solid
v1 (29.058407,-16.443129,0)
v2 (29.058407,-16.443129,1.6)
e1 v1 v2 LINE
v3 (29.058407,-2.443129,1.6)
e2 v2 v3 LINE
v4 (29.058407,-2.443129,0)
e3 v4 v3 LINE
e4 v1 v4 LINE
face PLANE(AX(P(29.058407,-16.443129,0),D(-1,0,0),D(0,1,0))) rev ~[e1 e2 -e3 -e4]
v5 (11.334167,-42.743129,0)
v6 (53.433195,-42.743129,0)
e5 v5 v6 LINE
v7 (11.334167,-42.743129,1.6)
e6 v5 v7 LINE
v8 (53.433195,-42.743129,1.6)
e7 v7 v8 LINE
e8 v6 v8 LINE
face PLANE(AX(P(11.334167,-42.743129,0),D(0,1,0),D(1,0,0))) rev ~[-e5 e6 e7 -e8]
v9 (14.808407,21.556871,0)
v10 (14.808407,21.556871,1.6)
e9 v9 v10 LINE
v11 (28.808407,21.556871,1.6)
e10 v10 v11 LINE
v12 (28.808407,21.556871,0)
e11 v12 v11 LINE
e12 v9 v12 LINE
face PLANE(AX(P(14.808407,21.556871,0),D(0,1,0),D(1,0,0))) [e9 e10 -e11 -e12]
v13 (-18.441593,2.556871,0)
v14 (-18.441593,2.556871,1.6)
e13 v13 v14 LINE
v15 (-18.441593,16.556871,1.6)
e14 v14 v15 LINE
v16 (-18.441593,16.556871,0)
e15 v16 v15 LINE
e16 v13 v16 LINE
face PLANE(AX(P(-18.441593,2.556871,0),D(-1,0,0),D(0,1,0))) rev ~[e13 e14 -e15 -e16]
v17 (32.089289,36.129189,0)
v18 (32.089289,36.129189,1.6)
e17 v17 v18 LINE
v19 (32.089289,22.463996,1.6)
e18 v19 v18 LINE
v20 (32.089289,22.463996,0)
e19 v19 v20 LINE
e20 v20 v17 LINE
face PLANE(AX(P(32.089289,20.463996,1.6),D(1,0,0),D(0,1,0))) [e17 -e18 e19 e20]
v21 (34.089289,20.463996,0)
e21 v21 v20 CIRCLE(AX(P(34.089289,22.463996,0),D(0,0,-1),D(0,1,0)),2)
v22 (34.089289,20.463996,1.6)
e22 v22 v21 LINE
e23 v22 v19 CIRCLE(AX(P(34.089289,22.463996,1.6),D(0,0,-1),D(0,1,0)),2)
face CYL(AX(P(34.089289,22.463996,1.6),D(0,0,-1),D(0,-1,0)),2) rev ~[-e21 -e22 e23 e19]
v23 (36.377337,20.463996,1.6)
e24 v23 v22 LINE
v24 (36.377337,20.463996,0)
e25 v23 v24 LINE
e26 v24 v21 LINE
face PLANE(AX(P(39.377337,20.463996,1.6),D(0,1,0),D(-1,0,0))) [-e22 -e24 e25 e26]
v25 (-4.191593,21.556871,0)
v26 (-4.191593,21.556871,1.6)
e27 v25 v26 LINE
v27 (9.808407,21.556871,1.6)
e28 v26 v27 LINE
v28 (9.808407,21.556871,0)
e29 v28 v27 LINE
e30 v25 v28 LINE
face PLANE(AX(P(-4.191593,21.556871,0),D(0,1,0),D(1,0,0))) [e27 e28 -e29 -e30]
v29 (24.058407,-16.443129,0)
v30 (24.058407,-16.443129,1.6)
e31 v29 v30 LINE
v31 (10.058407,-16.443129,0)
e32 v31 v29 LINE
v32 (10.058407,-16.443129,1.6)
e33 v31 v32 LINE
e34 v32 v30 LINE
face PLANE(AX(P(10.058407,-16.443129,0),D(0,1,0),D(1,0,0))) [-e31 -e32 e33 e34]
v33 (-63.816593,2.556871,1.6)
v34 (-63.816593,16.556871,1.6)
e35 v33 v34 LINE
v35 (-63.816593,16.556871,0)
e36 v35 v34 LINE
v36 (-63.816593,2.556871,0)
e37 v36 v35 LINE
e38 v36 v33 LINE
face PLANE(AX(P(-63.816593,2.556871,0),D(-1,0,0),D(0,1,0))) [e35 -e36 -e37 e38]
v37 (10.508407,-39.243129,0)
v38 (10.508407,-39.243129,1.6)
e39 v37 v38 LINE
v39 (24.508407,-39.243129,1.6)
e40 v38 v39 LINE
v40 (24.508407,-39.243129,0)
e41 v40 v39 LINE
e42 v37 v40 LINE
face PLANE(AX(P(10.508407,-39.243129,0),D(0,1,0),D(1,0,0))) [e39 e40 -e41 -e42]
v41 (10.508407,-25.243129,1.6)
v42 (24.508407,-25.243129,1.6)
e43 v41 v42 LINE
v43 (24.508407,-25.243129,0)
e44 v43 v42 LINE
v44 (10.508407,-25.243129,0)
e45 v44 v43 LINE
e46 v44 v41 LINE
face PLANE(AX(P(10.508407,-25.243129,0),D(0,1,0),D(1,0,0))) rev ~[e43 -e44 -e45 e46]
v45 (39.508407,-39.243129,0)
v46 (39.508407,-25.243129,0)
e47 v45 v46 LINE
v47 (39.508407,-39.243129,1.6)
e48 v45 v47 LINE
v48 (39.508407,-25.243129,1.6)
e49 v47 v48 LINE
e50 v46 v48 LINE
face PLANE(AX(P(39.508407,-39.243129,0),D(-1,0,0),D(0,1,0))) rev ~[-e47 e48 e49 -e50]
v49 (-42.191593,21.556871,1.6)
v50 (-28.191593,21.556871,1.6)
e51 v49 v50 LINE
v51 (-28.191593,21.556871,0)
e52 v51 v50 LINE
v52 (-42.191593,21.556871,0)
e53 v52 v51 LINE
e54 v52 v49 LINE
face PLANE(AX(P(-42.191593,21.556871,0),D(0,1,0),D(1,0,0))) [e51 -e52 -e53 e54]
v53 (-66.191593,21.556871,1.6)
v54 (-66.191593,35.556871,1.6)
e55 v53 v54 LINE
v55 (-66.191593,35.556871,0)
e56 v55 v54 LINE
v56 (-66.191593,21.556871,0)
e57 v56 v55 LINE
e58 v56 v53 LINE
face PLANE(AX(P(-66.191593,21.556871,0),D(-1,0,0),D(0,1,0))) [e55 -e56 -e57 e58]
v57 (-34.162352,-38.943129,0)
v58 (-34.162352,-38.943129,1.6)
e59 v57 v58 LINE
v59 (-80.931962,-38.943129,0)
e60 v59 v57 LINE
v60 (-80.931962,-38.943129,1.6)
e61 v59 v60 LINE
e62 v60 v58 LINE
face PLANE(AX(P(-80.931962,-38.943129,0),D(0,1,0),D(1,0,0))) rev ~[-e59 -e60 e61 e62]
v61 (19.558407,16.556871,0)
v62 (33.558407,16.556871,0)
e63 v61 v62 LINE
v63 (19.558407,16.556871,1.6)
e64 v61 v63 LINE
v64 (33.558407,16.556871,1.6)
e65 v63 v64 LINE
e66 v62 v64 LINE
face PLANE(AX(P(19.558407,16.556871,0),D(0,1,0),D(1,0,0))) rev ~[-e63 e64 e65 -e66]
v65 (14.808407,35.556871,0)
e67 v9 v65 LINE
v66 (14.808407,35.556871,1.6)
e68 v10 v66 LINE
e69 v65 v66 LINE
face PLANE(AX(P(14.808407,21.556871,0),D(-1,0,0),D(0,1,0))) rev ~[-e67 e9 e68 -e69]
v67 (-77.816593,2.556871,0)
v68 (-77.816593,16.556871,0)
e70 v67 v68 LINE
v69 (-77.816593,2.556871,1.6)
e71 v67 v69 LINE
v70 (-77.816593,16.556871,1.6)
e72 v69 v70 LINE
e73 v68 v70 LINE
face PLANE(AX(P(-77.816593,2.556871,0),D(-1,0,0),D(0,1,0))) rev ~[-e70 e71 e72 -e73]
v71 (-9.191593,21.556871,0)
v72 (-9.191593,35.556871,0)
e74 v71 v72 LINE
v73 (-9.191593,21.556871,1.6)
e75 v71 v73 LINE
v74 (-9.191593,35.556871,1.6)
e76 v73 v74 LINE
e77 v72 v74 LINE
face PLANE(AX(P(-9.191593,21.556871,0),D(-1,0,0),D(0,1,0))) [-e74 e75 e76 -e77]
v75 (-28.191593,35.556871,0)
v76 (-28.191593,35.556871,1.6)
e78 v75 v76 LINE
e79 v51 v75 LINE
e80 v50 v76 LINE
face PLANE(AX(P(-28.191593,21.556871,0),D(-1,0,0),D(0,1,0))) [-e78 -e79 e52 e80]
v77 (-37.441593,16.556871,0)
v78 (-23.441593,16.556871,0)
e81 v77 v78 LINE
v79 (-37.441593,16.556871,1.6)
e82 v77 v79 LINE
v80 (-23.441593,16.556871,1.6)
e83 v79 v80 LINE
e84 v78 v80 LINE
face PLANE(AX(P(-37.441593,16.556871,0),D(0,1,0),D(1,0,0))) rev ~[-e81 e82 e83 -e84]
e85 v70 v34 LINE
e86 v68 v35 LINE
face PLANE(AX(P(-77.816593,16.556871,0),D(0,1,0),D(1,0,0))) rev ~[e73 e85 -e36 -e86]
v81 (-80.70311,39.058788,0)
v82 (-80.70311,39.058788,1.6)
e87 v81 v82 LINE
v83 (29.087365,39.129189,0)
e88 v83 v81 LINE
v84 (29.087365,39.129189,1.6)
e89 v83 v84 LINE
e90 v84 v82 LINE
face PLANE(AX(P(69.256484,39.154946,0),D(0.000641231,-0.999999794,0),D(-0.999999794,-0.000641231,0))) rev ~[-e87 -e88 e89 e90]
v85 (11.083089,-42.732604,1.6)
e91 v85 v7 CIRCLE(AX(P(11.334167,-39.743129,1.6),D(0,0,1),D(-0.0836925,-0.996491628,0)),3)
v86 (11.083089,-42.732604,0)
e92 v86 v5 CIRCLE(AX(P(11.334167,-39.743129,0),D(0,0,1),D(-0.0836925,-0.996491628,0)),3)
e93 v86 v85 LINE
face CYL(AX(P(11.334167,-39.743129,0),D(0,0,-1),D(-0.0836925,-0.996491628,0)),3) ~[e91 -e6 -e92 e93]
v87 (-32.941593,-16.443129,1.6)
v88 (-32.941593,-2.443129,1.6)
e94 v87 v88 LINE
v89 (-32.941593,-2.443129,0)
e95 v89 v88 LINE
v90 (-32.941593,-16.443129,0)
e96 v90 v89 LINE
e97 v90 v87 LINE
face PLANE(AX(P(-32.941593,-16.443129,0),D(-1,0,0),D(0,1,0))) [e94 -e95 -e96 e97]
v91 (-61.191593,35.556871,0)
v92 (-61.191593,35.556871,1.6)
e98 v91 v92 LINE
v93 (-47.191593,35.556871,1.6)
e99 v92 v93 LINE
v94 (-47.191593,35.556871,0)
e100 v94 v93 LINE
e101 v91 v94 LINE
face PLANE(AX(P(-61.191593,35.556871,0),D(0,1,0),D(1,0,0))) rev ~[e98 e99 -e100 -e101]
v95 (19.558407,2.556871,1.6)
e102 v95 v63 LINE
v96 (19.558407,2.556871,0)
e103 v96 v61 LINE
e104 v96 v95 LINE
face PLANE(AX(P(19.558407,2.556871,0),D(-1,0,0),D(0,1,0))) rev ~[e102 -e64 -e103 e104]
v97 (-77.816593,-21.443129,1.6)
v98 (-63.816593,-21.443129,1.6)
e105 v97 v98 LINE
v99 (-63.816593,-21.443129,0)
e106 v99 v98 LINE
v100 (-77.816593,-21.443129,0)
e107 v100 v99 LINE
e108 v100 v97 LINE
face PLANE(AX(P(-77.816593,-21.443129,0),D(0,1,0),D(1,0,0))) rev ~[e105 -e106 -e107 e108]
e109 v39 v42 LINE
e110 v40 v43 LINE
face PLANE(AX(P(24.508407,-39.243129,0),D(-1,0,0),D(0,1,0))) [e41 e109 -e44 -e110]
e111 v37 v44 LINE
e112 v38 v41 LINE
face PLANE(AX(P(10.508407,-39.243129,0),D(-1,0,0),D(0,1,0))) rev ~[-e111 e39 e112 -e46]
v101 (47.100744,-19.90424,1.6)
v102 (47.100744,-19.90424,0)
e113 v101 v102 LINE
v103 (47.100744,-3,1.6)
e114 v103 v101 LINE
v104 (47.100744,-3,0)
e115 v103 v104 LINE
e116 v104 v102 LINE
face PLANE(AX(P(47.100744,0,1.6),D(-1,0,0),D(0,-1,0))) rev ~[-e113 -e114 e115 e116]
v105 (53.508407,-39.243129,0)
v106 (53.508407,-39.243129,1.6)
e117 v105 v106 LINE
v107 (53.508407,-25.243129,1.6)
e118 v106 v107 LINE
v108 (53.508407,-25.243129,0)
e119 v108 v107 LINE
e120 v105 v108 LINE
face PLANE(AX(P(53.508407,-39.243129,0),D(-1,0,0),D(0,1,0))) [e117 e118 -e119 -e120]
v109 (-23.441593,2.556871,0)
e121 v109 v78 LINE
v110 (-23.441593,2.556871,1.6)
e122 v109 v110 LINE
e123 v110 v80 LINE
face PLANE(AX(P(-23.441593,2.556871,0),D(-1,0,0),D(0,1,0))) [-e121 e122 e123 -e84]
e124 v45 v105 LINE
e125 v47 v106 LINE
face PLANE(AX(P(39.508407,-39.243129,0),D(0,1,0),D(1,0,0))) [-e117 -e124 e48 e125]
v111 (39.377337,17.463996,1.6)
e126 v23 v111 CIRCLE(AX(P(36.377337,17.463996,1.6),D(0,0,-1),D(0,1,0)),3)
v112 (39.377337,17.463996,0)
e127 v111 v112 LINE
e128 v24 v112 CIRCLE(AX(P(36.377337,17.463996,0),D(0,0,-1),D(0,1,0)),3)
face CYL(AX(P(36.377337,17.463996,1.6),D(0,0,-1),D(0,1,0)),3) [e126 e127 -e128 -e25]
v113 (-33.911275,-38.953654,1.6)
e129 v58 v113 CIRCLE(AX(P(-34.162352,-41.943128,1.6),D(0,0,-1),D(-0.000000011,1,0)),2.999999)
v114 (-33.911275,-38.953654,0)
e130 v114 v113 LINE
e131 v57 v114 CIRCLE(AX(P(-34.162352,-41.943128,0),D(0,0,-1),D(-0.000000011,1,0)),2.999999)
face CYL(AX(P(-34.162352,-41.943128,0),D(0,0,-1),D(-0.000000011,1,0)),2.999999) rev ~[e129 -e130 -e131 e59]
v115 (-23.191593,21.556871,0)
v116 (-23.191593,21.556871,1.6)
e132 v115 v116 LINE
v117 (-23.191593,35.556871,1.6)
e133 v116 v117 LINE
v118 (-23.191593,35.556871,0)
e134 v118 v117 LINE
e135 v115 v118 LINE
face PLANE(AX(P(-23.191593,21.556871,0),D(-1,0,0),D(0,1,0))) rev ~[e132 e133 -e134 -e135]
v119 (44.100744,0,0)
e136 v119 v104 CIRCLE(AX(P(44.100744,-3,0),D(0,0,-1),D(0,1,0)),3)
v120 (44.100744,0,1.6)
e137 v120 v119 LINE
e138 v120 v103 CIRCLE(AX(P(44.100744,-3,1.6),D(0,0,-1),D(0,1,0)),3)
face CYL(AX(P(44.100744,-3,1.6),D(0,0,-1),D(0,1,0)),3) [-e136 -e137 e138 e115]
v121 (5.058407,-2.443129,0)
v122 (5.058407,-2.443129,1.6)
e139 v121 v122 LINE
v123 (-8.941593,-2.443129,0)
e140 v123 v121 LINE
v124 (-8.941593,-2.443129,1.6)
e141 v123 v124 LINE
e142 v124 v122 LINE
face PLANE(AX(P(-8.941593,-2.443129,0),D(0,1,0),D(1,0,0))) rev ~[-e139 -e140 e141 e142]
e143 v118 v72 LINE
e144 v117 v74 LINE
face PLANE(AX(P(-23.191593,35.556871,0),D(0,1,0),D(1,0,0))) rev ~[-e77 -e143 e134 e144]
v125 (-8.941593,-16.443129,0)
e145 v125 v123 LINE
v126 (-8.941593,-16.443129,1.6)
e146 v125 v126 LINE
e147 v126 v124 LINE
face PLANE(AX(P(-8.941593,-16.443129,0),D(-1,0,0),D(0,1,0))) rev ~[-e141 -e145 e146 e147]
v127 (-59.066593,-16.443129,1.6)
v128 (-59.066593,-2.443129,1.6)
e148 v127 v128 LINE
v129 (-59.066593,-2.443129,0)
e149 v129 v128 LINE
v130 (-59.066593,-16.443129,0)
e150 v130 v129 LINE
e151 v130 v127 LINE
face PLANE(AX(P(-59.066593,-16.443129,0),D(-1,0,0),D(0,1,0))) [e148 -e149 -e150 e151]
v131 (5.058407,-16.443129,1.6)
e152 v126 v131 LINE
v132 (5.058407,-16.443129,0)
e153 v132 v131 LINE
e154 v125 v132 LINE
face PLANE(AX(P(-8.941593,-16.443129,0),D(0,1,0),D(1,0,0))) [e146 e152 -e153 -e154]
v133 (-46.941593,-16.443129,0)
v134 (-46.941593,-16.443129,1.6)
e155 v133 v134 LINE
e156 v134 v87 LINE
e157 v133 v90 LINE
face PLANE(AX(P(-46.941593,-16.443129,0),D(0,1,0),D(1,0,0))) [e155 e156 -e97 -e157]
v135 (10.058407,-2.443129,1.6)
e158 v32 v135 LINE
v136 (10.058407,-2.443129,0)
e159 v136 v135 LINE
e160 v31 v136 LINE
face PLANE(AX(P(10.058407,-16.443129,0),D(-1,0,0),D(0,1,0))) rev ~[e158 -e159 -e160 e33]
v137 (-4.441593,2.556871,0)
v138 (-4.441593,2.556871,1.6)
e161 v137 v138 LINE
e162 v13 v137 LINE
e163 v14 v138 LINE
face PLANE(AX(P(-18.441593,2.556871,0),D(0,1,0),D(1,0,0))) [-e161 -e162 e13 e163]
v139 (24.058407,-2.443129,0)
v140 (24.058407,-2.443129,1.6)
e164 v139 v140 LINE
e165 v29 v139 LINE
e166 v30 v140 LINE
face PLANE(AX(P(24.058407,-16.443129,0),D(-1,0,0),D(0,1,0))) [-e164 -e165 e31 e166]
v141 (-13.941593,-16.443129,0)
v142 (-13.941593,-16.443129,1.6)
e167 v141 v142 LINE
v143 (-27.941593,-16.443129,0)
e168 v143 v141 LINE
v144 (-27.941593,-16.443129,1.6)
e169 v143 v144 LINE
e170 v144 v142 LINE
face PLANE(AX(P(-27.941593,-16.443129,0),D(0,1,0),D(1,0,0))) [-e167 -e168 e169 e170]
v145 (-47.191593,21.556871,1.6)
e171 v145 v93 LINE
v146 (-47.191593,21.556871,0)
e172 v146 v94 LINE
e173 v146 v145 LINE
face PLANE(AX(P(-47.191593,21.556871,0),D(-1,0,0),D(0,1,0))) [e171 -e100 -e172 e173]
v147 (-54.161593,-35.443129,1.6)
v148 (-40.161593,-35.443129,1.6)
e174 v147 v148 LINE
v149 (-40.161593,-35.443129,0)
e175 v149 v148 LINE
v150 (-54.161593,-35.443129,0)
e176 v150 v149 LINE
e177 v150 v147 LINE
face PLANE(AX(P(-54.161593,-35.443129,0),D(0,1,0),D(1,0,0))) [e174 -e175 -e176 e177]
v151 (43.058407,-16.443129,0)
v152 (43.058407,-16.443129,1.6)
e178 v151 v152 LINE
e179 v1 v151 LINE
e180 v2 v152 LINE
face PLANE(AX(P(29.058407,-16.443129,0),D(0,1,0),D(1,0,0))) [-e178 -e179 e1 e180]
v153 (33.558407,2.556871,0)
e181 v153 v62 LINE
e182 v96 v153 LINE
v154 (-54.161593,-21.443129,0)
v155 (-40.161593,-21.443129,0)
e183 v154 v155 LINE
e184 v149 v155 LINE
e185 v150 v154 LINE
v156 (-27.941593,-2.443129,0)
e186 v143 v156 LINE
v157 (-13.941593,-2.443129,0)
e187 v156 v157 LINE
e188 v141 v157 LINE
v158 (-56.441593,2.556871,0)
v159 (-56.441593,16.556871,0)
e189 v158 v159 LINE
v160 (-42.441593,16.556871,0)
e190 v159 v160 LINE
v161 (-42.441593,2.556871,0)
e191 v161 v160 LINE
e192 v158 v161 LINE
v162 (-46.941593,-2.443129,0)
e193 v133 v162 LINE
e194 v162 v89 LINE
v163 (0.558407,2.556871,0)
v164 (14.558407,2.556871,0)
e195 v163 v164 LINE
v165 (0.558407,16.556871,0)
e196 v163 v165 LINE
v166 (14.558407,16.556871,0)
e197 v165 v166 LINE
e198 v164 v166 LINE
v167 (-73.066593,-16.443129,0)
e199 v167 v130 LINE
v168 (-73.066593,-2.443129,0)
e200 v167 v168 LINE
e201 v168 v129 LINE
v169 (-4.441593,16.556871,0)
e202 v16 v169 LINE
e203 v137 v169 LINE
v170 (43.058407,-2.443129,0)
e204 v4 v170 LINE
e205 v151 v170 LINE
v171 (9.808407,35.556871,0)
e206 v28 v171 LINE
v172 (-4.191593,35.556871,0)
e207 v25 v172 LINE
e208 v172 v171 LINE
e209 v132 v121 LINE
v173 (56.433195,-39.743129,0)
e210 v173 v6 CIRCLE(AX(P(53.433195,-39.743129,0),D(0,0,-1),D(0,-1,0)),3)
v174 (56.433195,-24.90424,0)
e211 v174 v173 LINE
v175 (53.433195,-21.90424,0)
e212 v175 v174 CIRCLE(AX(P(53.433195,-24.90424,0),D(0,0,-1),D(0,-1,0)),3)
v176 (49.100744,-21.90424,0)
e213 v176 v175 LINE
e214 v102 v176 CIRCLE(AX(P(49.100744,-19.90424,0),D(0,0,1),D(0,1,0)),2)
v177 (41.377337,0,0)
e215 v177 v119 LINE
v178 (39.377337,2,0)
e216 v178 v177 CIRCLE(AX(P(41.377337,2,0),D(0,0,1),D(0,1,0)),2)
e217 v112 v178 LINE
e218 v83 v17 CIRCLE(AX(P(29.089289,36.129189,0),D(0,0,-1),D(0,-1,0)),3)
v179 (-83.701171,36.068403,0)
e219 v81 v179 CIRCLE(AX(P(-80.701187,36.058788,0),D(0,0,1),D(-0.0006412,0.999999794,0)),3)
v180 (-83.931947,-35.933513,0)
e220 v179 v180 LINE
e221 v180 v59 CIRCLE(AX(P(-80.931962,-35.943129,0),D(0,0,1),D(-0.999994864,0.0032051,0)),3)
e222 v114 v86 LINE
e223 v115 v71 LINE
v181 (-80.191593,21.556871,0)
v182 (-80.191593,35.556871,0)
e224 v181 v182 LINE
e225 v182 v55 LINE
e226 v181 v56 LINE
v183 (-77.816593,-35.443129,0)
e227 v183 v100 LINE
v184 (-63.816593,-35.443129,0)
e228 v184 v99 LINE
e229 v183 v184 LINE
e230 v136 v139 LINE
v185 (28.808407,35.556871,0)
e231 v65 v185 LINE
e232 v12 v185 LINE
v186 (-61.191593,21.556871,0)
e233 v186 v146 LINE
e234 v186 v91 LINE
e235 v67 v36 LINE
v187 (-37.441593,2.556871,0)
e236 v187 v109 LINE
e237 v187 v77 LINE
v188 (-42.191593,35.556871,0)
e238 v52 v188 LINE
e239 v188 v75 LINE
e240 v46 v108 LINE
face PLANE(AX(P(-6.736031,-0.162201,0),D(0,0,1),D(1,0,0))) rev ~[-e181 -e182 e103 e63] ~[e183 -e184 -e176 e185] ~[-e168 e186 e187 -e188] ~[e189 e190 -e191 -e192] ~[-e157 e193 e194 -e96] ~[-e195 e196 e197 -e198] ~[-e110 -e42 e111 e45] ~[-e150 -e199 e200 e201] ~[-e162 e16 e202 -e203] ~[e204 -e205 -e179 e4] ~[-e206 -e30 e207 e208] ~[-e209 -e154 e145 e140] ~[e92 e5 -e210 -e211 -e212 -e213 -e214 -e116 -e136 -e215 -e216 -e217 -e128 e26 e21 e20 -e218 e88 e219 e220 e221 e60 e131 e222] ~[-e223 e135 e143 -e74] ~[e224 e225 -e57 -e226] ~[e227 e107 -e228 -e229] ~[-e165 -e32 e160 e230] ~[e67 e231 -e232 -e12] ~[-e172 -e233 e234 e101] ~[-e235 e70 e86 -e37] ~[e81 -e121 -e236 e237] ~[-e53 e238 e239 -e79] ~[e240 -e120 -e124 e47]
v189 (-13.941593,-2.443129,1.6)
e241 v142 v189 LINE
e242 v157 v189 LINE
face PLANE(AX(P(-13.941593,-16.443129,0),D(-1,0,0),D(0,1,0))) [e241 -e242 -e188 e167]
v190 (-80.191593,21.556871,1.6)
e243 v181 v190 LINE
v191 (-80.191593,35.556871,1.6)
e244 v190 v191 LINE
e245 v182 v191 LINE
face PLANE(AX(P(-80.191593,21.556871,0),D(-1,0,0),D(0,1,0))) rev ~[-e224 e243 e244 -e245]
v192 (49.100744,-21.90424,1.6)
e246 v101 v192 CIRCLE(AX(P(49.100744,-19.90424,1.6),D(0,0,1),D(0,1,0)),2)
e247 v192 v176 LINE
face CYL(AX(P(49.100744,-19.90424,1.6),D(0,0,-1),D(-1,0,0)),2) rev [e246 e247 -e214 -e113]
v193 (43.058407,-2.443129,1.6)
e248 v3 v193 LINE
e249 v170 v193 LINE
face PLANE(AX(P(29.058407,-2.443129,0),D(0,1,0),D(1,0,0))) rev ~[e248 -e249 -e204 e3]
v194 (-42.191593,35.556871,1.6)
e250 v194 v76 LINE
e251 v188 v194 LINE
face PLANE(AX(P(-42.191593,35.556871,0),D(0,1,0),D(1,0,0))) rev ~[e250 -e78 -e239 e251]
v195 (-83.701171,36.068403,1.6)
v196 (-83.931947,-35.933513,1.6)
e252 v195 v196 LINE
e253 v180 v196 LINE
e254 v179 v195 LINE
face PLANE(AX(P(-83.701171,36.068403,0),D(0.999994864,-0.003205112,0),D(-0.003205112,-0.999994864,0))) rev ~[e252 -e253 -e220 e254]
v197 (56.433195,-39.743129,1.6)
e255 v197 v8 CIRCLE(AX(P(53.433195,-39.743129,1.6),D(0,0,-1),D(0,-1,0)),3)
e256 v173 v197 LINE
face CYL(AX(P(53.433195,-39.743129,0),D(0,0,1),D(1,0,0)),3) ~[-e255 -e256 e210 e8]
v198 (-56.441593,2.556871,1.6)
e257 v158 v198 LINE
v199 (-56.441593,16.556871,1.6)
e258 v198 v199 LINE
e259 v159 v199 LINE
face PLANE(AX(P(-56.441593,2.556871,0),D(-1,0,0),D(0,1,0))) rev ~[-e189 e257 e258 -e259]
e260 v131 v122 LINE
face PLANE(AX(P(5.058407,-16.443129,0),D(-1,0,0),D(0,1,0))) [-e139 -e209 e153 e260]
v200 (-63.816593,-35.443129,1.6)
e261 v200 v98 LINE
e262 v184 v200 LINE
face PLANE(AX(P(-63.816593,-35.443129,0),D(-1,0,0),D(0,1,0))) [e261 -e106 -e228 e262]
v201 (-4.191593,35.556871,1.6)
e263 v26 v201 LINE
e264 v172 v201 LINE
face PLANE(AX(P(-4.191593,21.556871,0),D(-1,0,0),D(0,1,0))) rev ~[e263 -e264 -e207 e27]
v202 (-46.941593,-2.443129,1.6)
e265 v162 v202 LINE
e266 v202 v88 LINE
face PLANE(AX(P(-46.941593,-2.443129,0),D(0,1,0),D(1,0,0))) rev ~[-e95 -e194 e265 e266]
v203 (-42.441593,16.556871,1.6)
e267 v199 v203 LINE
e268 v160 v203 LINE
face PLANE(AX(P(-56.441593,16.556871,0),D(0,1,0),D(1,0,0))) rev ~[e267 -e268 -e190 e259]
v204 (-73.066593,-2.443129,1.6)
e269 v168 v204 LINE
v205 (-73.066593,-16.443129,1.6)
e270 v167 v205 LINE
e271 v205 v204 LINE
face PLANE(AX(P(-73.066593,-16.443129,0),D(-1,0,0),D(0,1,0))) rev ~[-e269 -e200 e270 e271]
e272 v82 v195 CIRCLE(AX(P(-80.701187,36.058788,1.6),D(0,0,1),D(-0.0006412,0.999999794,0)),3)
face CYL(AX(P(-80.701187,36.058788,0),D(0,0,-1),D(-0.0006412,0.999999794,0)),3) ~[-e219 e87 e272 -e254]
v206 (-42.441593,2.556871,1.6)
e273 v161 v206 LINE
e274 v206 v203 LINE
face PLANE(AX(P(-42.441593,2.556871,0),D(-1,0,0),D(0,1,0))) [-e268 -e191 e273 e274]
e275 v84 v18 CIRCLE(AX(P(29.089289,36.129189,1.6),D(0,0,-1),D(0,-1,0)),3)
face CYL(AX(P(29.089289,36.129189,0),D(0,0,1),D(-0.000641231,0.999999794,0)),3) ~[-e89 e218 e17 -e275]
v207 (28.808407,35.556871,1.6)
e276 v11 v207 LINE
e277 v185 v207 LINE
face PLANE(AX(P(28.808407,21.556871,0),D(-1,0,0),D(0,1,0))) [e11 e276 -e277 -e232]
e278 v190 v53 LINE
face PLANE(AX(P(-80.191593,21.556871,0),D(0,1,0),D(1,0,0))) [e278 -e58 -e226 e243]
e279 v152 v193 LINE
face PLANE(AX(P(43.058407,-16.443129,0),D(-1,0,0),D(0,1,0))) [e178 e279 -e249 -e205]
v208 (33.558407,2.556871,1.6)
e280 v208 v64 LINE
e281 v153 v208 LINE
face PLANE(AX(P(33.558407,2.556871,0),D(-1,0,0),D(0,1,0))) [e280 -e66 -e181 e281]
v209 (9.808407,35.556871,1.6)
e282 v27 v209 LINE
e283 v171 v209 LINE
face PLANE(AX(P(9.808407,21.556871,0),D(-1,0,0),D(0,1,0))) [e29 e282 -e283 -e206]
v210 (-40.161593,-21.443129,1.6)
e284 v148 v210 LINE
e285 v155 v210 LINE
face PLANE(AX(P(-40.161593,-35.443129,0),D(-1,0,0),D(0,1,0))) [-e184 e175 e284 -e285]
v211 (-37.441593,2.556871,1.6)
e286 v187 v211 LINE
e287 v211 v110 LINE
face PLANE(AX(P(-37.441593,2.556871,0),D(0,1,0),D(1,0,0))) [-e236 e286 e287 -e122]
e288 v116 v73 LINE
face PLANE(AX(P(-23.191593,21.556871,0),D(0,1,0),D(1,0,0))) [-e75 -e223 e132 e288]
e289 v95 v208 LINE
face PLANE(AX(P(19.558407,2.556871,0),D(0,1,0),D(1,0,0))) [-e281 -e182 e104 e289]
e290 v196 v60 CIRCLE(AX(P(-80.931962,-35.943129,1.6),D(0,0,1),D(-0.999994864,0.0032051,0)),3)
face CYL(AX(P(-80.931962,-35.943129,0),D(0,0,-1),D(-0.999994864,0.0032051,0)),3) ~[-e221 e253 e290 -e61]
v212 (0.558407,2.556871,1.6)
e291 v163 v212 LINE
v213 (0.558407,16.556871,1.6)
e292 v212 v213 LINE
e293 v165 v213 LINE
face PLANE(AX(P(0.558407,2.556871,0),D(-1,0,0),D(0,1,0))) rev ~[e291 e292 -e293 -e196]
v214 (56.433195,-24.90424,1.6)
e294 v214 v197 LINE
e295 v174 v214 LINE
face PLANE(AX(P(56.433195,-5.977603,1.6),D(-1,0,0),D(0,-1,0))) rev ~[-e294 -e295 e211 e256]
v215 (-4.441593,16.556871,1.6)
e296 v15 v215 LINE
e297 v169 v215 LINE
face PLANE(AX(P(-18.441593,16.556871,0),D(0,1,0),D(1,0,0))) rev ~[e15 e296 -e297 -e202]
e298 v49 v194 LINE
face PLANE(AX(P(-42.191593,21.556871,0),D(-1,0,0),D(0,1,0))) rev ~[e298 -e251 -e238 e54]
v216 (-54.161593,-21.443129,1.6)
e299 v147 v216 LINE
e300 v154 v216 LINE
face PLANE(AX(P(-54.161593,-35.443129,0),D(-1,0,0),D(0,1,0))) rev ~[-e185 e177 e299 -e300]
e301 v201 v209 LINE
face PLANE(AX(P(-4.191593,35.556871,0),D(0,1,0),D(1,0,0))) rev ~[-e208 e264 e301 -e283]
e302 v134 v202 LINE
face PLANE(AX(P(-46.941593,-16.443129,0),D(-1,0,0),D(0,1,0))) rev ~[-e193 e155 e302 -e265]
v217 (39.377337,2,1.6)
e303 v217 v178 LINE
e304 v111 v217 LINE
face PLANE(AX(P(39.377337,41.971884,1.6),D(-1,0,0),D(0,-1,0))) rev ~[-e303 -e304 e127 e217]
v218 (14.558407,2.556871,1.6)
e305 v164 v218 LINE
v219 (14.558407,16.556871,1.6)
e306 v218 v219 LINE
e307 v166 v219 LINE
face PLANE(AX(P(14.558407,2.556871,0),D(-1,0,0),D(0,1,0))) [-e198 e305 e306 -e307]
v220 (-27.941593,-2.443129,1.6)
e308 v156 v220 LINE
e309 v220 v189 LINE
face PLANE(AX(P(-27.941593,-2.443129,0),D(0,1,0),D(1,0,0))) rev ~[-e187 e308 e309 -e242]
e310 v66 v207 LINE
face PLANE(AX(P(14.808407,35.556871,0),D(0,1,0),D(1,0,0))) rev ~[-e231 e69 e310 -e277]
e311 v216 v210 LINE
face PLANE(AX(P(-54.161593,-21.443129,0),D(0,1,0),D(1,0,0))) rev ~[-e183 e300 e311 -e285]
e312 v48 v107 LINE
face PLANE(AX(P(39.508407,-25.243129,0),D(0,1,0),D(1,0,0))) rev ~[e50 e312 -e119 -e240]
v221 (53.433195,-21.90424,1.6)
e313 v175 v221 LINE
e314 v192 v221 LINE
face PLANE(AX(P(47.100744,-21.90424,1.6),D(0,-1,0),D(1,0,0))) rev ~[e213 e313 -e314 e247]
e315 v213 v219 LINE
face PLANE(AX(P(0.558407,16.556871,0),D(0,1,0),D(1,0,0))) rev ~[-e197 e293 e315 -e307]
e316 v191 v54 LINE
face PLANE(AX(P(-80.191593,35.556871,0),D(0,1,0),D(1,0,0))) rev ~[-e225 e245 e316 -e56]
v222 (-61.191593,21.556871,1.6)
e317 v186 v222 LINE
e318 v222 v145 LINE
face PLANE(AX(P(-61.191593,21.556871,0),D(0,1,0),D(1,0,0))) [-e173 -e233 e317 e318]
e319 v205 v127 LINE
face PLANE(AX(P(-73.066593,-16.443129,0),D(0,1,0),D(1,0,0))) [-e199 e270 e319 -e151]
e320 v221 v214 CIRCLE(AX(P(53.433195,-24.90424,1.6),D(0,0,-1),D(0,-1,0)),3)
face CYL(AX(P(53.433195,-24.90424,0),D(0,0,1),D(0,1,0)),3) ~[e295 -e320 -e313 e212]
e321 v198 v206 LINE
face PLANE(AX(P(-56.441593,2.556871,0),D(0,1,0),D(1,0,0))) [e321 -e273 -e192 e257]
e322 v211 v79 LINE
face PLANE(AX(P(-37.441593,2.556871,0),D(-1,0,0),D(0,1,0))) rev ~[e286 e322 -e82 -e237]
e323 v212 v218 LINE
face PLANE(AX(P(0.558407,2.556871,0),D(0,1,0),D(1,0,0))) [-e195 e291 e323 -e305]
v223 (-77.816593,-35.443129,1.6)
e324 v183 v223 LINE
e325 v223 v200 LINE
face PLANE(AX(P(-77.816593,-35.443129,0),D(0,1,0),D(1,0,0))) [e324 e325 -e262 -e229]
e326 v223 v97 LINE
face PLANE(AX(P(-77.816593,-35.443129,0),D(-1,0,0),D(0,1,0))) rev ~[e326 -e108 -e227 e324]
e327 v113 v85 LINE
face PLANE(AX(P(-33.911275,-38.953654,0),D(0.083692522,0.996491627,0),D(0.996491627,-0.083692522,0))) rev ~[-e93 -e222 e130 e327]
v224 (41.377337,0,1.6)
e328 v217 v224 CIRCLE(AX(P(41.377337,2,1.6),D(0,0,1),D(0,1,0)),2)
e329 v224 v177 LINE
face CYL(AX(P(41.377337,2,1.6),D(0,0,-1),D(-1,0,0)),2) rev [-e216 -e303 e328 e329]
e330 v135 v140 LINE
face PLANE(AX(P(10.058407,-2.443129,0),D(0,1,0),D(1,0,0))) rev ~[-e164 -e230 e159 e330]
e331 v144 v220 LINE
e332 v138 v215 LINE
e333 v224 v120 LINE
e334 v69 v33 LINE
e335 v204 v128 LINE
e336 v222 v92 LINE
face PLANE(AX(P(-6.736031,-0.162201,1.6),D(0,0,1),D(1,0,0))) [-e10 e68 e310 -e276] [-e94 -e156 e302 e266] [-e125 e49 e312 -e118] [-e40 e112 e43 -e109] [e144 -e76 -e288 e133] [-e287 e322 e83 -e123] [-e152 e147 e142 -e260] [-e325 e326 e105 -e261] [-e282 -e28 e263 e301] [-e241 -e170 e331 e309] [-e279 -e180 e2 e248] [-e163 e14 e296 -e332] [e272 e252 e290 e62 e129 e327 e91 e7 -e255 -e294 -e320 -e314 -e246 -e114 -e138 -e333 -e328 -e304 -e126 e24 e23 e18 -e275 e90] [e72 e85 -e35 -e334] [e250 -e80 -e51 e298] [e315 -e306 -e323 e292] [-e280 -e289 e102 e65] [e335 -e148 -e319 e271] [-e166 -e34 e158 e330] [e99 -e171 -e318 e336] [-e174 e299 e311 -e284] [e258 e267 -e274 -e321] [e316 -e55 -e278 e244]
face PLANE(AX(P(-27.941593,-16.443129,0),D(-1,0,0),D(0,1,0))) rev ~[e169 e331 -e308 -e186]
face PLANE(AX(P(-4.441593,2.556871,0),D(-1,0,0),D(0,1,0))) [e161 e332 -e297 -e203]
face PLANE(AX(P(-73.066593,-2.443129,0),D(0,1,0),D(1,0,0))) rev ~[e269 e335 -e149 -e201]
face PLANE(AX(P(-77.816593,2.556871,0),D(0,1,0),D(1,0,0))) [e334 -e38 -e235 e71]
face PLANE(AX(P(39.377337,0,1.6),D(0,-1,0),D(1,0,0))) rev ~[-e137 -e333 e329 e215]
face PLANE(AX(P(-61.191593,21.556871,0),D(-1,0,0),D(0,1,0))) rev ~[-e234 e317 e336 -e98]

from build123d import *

# Parameters (mm, degrees)
SKETCH1_R           = 1.5
SKETCH1_W           = 14
SKETCH1_H           = 14
BOSS_EXTRUDE1_DEPTH = 1.6
CUT_EXTRUDE1_DEPTH  = 1.6
FILLET1_R           = 3
SKETCH3_W           = 5.928661094
SKETCH3_H           = 12.435728147
SKETCH3_W_2         = 5.350255133
SKETCH3_H_2         = 5.928661094
SKETCH3_W_3         = 5.639458113
SKETCH3_W_4         = 6.651668543
SKETCH3_H_3         = 7.446976739
SKETCH3_W_5         = 5.928661093
SKETCH3_H_4         = 5.784059603
SKETCH3_H_5         = 4.627247683
BOSS_EXTRUDE2_DEPTH = 1.6
CUT_EXTRUDE2_DEPTH  = 95.202490958
FILLET2_R           = 3
CUT_EXTRUDE3_DEPTH  = 95.202490958
FILLET3_R           = 3
FILLET4_R           = 3
FILLET7_R           = 2


with BuildPart() as part:
    # Sketch1 → Boss-Extrude1 (new body)
    with BuildSketch(Plane.XY):
        with BuildLine():
            Line((69.256483633, 39.154946315), (-80.703110167, 39.058787515))
            ThreePointArc((-80.703110167, 39.058787515), (-82.819785745, 38.18282616), (-83.701171171, 36.068403419))
            Line((-83.701171171, 36.068403419), (-83.931946571, -35.933513481))
            ThreePointArc((-83.931946571, -35.933513481), (-83.056679124, -38.061046878), (-80.931961975, -38.943128786))
            Line((-80.931961975, -38.943128786), (-34.162352475, -38.943128786))
            ThreePointArc((-34.162352475, -38.943128786), (-34.036703471, -38.945761219), (-33.911274976, -38.953653901))
            Line((-33.911274976, -38.953653901), (11.083089424, -42.732603701))
            ThreePointArc((11.083089424, -42.732603701), (11.20851792, -42.740496382), (11.334166924, -42.743128815))
            Line((11.334166924, -42.743128815), (59.596129524, -42.743128815))
            ThreePointArc((59.596129524, -42.743128815), (61.35026035, -42.176855395), (62.442179406, -40.69181219))
            Line((62.442179406, -40.69181219), (72.104457106, -11.70497919))
            ThreePointArc((72.104457106, -11.70497919), (72.219669608, -11.236842575), (72.258407243, -10.756295796))
            Line((72.258407243, -10.756295796), (72.258407243, 36.154946904))
            ThreePointArc((72.258407243, 36.154946904), (71.379047386, 38.276947252), (69.256483633, 39.154946315))
        make_face()
        with Locations((35.108407229, 34.256871219)):
            Circle(SKETCH1_R, mode=Mode.SUBTRACT)
        with Locations((-28.161592771, -22.743128781)):
            Circle(SKETCH1_R, mode=Mode.SUBTRACT)
        with Locations((-1.491592771, -27.493128781)):
            Circle(SKETCH1_R, mode=Mode.SUBTRACT)
        with Locations((-79.366592771, -9.443128781)):
            Circle(SKETCH1_R, mode=Mode.SUBTRACT)
        with Locations((49.358407229, -9.443128781)):
            Circle(SKETCH1_R, mode=Mode.SUBTRACT)
        with Locations((-59.891592771, 17.156871219)):
            Circle(SKETCH1_R, mode=Mode.SUBTRACT)
        with Locations((2.808407229, 28.556871219)):
            Rectangle(SKETCH1_W, SKETCH1_H, mode=Mode.SUBTRACT)
        with Locations((21.808407229, 28.556871219)):
            Rectangle(SKETCH1_W, SKETCH1_H, mode=Mode.SUBTRACT)
        with Locations((-35.191592771, 28.556871219)):
            Rectangle(SKETCH1_W, SKETCH1_H, mode=Mode.SUBTRACT)
        with Locations((-16.191592771, 28.556871219)):
            Rectangle(SKETCH1_W, SKETCH1_H, mode=Mode.SUBTRACT)
        with Locations((-70.816592771, 9.556871219)):
            Rectangle(SKETCH1_W, SKETCH1_H, mode=Mode.SUBTRACT)
        with Locations((-49.441592771, 9.556871219)):
            Rectangle(SKETCH1_W, SKETCH1_H, mode=Mode.SUBTRACT)
        with Locations((-30.441592771, 9.556871219)):
            Rectangle(SKETCH1_W, SKETCH1_H, mode=Mode.SUBTRACT)
        with Locations((-11.441592771, 9.556871219)):
            Rectangle(SKETCH1_W, SKETCH1_H, mode=Mode.SUBTRACT)
        with Locations((-39.941592771, -9.443128781)):
            Rectangle(SKETCH1_W, SKETCH1_H, mode=Mode.SUBTRACT)
        with Locations((-1.941592771, -9.443128781)):
            Rectangle(SKETCH1_W, SKETCH1_H, mode=Mode.SUBTRACT)
        with Locations((26.558407229, 9.556871219)):
            Rectangle(SKETCH1_W, SKETCH1_H, mode=Mode.SUBTRACT)
        with Locations((36.058407229, -9.443128781)):
            Rectangle(SKETCH1_W, SKETCH1_H, mode=Mode.SUBTRACT)
        with Locations((17.508407229, -32.243128781)):
            Rectangle(SKETCH1_W, SKETCH1_H, mode=Mode.SUBTRACT)
        with Locations((-70.816592771, -28.443128781)):
            Rectangle(SKETCH1_W, SKETCH1_H, mode=Mode.SUBTRACT)
        with Locations((-73.191592771, 28.556871219)):
            Rectangle(SKETCH1_W, SKETCH1_H, mode=Mode.SUBTRACT)
        with Locations((-54.191592771, 28.556871219)):
            Rectangle(SKETCH1_W, SKETCH1_H, mode=Mode.SUBTRACT)
        with Locations((7.558407229, 9.556871219)):
            Rectangle(SKETCH1_W, SKETCH1_H, mode=Mode.SUBTRACT)
        with Locations((-66.066592771, -9.443128781)):
            Rectangle(SKETCH1_W, SKETCH1_H, mode=Mode.SUBTRACT)
        with Locations((-20.941592771, -9.443128781)):
            Rectangle(SKETCH1_W, SKETCH1_H, mode=Mode.SUBTRACT)
        with Locations((17.058407229, -9.443128781)):
            Rectangle(SKETCH1_W, SKETCH1_H, mode=Mode.SUBTRACT)
        with Locations((-47.161592771, -28.443128781)):
            Rectangle(SKETCH1_W, SKETCH1_H, mode=Mode.SUBTRACT)
        with Locations((46.508407229, -32.243128781)):
            Rectangle(SKETCH1_W, SKETCH1_H, mode=Mode.SUBTRACT)
    extrude(amount=BOSS_EXTRUDE1_DEPTH)

    # Sketch2 → Cut-Extrude1 (cut)
    with BuildSketch(Plane.XY.offset(1.6)):
        Polygon((39.377336656, 41.971884199), (39.377336656, 0), (47.100744033, 0), (47.100744033, -5.977603272), (56.433194615, -5.977603272), (56.433194615, -45.238257442), (88.453154369, -41.859266714), (93.4411883, 41.971884199), align=None)
    extrude(amount=-CUT_EXTRUDE1_DEPTH, mode=Mode.SUBTRACT)

    # Fillet1
    fillet1_edges = [part.edges().sort_by_distance(p)[0] for p in [
        (56.433194615, -42.743128815, 0.8),
        (39.377336656, 39.135786868, 0.8),
        (56.433194615, -5.977603272, 0.8),
        (47.100744033, 0, 0.8),
    ]]
    fillet(fillet1_edges, radius=FILLET1_R)

    # Sketch3 → Boss-Extrude2 (add, through all)
    with BuildSketch(Plane.XY.offset(1.6)):
        with Locations((-78.603151983, -9.902316574)):
            Rectangle(SKETCH3_W, SKETCH3_H)
        with Locations((-60.094161253, 17.210462816)):
            Rectangle(SKETCH3_W_2, SKETCH3_H_2)
        with Locations((-27.992630455, -23.133352916)):
            Rectangle(SKETCH3_W_3, SKETCH3_H_2)
        with Locations((-1.313655536, -26.856841286)):
            Rectangle(SKETCH3_W_4, SKETCH3_H_3)
        with Locations((49.658369718, -10.480722534)):
            Rectangle(SKETCH3_W_5, SKETCH3_H_4)
        with Locations((35.05361922, 33.911934921)):
            Rectangle(SKETCH3_W_2, SKETCH3_H_5)
    extrude(amount=-BOSS_EXTRUDE2_DEPTH)

    # Sketch4 → Cut-Extrude2 (cut, through all)
    with BuildSketch(Plane.XY.offset(1.6)):
        Polygon((47.100744033, -5.977603272), (47.100744033, -21.90424025), (70.264082054, -21.90424025), (70.264082054, 0), align=None)
    extrude(amount=-CUT_EXTRUDE2_DEPTH, mode=Mode.SUBTRACT)

    # Fillet2
    fillet2_edges = [part.edges().sort_by_distance(p)[0] for p in [
        (56.433194615, -21.90424025, 0.8),
    ]]
    fillet(fillet2_edges, radius=FILLET2_R)

    # Sketch5 → Cut-Extrude3 (cut, through all)
    with BuildSketch(Plane.XY.offset(1.6)):
        Polygon((39.377336656, 20.463996343), (32.089288673, 20.463996343), (32.089288673, 44.034039226), (51.321286853, 44.034039226), align=None)
    extrude(amount=-CUT_EXTRUDE3_DEPTH, mode=Mode.SUBTRACT)

    # Fillet3
    fillet3_edges = [part.edges().sort_by_distance(p)[0] for p in [
        (32.089288673, 39.131113542, 0.8),
    ]]
    fillet(fillet3_edges, radius=FILLET3_R)

    # Fillet4
    fillet4_edges = [part.edges().sort_by_distance(p)[0] for p in [
        (39.377336656, 20.463996343, 0.8),
    ]]
    fillet(fillet4_edges, radius=FILLET4_R)

    # Fillet7
    fillet7_edges = [part.edges().sort_by_distance(p)[0] for p in [
        (39.377336656, 0, 0.8),
        (47.100744033, -21.90424025, 0.8),
        (32.089288673, 20.463996343, 0.8),
    ]]
    fillet(fillet7_edges, radius=FILLET7_R)


solid = part.part
